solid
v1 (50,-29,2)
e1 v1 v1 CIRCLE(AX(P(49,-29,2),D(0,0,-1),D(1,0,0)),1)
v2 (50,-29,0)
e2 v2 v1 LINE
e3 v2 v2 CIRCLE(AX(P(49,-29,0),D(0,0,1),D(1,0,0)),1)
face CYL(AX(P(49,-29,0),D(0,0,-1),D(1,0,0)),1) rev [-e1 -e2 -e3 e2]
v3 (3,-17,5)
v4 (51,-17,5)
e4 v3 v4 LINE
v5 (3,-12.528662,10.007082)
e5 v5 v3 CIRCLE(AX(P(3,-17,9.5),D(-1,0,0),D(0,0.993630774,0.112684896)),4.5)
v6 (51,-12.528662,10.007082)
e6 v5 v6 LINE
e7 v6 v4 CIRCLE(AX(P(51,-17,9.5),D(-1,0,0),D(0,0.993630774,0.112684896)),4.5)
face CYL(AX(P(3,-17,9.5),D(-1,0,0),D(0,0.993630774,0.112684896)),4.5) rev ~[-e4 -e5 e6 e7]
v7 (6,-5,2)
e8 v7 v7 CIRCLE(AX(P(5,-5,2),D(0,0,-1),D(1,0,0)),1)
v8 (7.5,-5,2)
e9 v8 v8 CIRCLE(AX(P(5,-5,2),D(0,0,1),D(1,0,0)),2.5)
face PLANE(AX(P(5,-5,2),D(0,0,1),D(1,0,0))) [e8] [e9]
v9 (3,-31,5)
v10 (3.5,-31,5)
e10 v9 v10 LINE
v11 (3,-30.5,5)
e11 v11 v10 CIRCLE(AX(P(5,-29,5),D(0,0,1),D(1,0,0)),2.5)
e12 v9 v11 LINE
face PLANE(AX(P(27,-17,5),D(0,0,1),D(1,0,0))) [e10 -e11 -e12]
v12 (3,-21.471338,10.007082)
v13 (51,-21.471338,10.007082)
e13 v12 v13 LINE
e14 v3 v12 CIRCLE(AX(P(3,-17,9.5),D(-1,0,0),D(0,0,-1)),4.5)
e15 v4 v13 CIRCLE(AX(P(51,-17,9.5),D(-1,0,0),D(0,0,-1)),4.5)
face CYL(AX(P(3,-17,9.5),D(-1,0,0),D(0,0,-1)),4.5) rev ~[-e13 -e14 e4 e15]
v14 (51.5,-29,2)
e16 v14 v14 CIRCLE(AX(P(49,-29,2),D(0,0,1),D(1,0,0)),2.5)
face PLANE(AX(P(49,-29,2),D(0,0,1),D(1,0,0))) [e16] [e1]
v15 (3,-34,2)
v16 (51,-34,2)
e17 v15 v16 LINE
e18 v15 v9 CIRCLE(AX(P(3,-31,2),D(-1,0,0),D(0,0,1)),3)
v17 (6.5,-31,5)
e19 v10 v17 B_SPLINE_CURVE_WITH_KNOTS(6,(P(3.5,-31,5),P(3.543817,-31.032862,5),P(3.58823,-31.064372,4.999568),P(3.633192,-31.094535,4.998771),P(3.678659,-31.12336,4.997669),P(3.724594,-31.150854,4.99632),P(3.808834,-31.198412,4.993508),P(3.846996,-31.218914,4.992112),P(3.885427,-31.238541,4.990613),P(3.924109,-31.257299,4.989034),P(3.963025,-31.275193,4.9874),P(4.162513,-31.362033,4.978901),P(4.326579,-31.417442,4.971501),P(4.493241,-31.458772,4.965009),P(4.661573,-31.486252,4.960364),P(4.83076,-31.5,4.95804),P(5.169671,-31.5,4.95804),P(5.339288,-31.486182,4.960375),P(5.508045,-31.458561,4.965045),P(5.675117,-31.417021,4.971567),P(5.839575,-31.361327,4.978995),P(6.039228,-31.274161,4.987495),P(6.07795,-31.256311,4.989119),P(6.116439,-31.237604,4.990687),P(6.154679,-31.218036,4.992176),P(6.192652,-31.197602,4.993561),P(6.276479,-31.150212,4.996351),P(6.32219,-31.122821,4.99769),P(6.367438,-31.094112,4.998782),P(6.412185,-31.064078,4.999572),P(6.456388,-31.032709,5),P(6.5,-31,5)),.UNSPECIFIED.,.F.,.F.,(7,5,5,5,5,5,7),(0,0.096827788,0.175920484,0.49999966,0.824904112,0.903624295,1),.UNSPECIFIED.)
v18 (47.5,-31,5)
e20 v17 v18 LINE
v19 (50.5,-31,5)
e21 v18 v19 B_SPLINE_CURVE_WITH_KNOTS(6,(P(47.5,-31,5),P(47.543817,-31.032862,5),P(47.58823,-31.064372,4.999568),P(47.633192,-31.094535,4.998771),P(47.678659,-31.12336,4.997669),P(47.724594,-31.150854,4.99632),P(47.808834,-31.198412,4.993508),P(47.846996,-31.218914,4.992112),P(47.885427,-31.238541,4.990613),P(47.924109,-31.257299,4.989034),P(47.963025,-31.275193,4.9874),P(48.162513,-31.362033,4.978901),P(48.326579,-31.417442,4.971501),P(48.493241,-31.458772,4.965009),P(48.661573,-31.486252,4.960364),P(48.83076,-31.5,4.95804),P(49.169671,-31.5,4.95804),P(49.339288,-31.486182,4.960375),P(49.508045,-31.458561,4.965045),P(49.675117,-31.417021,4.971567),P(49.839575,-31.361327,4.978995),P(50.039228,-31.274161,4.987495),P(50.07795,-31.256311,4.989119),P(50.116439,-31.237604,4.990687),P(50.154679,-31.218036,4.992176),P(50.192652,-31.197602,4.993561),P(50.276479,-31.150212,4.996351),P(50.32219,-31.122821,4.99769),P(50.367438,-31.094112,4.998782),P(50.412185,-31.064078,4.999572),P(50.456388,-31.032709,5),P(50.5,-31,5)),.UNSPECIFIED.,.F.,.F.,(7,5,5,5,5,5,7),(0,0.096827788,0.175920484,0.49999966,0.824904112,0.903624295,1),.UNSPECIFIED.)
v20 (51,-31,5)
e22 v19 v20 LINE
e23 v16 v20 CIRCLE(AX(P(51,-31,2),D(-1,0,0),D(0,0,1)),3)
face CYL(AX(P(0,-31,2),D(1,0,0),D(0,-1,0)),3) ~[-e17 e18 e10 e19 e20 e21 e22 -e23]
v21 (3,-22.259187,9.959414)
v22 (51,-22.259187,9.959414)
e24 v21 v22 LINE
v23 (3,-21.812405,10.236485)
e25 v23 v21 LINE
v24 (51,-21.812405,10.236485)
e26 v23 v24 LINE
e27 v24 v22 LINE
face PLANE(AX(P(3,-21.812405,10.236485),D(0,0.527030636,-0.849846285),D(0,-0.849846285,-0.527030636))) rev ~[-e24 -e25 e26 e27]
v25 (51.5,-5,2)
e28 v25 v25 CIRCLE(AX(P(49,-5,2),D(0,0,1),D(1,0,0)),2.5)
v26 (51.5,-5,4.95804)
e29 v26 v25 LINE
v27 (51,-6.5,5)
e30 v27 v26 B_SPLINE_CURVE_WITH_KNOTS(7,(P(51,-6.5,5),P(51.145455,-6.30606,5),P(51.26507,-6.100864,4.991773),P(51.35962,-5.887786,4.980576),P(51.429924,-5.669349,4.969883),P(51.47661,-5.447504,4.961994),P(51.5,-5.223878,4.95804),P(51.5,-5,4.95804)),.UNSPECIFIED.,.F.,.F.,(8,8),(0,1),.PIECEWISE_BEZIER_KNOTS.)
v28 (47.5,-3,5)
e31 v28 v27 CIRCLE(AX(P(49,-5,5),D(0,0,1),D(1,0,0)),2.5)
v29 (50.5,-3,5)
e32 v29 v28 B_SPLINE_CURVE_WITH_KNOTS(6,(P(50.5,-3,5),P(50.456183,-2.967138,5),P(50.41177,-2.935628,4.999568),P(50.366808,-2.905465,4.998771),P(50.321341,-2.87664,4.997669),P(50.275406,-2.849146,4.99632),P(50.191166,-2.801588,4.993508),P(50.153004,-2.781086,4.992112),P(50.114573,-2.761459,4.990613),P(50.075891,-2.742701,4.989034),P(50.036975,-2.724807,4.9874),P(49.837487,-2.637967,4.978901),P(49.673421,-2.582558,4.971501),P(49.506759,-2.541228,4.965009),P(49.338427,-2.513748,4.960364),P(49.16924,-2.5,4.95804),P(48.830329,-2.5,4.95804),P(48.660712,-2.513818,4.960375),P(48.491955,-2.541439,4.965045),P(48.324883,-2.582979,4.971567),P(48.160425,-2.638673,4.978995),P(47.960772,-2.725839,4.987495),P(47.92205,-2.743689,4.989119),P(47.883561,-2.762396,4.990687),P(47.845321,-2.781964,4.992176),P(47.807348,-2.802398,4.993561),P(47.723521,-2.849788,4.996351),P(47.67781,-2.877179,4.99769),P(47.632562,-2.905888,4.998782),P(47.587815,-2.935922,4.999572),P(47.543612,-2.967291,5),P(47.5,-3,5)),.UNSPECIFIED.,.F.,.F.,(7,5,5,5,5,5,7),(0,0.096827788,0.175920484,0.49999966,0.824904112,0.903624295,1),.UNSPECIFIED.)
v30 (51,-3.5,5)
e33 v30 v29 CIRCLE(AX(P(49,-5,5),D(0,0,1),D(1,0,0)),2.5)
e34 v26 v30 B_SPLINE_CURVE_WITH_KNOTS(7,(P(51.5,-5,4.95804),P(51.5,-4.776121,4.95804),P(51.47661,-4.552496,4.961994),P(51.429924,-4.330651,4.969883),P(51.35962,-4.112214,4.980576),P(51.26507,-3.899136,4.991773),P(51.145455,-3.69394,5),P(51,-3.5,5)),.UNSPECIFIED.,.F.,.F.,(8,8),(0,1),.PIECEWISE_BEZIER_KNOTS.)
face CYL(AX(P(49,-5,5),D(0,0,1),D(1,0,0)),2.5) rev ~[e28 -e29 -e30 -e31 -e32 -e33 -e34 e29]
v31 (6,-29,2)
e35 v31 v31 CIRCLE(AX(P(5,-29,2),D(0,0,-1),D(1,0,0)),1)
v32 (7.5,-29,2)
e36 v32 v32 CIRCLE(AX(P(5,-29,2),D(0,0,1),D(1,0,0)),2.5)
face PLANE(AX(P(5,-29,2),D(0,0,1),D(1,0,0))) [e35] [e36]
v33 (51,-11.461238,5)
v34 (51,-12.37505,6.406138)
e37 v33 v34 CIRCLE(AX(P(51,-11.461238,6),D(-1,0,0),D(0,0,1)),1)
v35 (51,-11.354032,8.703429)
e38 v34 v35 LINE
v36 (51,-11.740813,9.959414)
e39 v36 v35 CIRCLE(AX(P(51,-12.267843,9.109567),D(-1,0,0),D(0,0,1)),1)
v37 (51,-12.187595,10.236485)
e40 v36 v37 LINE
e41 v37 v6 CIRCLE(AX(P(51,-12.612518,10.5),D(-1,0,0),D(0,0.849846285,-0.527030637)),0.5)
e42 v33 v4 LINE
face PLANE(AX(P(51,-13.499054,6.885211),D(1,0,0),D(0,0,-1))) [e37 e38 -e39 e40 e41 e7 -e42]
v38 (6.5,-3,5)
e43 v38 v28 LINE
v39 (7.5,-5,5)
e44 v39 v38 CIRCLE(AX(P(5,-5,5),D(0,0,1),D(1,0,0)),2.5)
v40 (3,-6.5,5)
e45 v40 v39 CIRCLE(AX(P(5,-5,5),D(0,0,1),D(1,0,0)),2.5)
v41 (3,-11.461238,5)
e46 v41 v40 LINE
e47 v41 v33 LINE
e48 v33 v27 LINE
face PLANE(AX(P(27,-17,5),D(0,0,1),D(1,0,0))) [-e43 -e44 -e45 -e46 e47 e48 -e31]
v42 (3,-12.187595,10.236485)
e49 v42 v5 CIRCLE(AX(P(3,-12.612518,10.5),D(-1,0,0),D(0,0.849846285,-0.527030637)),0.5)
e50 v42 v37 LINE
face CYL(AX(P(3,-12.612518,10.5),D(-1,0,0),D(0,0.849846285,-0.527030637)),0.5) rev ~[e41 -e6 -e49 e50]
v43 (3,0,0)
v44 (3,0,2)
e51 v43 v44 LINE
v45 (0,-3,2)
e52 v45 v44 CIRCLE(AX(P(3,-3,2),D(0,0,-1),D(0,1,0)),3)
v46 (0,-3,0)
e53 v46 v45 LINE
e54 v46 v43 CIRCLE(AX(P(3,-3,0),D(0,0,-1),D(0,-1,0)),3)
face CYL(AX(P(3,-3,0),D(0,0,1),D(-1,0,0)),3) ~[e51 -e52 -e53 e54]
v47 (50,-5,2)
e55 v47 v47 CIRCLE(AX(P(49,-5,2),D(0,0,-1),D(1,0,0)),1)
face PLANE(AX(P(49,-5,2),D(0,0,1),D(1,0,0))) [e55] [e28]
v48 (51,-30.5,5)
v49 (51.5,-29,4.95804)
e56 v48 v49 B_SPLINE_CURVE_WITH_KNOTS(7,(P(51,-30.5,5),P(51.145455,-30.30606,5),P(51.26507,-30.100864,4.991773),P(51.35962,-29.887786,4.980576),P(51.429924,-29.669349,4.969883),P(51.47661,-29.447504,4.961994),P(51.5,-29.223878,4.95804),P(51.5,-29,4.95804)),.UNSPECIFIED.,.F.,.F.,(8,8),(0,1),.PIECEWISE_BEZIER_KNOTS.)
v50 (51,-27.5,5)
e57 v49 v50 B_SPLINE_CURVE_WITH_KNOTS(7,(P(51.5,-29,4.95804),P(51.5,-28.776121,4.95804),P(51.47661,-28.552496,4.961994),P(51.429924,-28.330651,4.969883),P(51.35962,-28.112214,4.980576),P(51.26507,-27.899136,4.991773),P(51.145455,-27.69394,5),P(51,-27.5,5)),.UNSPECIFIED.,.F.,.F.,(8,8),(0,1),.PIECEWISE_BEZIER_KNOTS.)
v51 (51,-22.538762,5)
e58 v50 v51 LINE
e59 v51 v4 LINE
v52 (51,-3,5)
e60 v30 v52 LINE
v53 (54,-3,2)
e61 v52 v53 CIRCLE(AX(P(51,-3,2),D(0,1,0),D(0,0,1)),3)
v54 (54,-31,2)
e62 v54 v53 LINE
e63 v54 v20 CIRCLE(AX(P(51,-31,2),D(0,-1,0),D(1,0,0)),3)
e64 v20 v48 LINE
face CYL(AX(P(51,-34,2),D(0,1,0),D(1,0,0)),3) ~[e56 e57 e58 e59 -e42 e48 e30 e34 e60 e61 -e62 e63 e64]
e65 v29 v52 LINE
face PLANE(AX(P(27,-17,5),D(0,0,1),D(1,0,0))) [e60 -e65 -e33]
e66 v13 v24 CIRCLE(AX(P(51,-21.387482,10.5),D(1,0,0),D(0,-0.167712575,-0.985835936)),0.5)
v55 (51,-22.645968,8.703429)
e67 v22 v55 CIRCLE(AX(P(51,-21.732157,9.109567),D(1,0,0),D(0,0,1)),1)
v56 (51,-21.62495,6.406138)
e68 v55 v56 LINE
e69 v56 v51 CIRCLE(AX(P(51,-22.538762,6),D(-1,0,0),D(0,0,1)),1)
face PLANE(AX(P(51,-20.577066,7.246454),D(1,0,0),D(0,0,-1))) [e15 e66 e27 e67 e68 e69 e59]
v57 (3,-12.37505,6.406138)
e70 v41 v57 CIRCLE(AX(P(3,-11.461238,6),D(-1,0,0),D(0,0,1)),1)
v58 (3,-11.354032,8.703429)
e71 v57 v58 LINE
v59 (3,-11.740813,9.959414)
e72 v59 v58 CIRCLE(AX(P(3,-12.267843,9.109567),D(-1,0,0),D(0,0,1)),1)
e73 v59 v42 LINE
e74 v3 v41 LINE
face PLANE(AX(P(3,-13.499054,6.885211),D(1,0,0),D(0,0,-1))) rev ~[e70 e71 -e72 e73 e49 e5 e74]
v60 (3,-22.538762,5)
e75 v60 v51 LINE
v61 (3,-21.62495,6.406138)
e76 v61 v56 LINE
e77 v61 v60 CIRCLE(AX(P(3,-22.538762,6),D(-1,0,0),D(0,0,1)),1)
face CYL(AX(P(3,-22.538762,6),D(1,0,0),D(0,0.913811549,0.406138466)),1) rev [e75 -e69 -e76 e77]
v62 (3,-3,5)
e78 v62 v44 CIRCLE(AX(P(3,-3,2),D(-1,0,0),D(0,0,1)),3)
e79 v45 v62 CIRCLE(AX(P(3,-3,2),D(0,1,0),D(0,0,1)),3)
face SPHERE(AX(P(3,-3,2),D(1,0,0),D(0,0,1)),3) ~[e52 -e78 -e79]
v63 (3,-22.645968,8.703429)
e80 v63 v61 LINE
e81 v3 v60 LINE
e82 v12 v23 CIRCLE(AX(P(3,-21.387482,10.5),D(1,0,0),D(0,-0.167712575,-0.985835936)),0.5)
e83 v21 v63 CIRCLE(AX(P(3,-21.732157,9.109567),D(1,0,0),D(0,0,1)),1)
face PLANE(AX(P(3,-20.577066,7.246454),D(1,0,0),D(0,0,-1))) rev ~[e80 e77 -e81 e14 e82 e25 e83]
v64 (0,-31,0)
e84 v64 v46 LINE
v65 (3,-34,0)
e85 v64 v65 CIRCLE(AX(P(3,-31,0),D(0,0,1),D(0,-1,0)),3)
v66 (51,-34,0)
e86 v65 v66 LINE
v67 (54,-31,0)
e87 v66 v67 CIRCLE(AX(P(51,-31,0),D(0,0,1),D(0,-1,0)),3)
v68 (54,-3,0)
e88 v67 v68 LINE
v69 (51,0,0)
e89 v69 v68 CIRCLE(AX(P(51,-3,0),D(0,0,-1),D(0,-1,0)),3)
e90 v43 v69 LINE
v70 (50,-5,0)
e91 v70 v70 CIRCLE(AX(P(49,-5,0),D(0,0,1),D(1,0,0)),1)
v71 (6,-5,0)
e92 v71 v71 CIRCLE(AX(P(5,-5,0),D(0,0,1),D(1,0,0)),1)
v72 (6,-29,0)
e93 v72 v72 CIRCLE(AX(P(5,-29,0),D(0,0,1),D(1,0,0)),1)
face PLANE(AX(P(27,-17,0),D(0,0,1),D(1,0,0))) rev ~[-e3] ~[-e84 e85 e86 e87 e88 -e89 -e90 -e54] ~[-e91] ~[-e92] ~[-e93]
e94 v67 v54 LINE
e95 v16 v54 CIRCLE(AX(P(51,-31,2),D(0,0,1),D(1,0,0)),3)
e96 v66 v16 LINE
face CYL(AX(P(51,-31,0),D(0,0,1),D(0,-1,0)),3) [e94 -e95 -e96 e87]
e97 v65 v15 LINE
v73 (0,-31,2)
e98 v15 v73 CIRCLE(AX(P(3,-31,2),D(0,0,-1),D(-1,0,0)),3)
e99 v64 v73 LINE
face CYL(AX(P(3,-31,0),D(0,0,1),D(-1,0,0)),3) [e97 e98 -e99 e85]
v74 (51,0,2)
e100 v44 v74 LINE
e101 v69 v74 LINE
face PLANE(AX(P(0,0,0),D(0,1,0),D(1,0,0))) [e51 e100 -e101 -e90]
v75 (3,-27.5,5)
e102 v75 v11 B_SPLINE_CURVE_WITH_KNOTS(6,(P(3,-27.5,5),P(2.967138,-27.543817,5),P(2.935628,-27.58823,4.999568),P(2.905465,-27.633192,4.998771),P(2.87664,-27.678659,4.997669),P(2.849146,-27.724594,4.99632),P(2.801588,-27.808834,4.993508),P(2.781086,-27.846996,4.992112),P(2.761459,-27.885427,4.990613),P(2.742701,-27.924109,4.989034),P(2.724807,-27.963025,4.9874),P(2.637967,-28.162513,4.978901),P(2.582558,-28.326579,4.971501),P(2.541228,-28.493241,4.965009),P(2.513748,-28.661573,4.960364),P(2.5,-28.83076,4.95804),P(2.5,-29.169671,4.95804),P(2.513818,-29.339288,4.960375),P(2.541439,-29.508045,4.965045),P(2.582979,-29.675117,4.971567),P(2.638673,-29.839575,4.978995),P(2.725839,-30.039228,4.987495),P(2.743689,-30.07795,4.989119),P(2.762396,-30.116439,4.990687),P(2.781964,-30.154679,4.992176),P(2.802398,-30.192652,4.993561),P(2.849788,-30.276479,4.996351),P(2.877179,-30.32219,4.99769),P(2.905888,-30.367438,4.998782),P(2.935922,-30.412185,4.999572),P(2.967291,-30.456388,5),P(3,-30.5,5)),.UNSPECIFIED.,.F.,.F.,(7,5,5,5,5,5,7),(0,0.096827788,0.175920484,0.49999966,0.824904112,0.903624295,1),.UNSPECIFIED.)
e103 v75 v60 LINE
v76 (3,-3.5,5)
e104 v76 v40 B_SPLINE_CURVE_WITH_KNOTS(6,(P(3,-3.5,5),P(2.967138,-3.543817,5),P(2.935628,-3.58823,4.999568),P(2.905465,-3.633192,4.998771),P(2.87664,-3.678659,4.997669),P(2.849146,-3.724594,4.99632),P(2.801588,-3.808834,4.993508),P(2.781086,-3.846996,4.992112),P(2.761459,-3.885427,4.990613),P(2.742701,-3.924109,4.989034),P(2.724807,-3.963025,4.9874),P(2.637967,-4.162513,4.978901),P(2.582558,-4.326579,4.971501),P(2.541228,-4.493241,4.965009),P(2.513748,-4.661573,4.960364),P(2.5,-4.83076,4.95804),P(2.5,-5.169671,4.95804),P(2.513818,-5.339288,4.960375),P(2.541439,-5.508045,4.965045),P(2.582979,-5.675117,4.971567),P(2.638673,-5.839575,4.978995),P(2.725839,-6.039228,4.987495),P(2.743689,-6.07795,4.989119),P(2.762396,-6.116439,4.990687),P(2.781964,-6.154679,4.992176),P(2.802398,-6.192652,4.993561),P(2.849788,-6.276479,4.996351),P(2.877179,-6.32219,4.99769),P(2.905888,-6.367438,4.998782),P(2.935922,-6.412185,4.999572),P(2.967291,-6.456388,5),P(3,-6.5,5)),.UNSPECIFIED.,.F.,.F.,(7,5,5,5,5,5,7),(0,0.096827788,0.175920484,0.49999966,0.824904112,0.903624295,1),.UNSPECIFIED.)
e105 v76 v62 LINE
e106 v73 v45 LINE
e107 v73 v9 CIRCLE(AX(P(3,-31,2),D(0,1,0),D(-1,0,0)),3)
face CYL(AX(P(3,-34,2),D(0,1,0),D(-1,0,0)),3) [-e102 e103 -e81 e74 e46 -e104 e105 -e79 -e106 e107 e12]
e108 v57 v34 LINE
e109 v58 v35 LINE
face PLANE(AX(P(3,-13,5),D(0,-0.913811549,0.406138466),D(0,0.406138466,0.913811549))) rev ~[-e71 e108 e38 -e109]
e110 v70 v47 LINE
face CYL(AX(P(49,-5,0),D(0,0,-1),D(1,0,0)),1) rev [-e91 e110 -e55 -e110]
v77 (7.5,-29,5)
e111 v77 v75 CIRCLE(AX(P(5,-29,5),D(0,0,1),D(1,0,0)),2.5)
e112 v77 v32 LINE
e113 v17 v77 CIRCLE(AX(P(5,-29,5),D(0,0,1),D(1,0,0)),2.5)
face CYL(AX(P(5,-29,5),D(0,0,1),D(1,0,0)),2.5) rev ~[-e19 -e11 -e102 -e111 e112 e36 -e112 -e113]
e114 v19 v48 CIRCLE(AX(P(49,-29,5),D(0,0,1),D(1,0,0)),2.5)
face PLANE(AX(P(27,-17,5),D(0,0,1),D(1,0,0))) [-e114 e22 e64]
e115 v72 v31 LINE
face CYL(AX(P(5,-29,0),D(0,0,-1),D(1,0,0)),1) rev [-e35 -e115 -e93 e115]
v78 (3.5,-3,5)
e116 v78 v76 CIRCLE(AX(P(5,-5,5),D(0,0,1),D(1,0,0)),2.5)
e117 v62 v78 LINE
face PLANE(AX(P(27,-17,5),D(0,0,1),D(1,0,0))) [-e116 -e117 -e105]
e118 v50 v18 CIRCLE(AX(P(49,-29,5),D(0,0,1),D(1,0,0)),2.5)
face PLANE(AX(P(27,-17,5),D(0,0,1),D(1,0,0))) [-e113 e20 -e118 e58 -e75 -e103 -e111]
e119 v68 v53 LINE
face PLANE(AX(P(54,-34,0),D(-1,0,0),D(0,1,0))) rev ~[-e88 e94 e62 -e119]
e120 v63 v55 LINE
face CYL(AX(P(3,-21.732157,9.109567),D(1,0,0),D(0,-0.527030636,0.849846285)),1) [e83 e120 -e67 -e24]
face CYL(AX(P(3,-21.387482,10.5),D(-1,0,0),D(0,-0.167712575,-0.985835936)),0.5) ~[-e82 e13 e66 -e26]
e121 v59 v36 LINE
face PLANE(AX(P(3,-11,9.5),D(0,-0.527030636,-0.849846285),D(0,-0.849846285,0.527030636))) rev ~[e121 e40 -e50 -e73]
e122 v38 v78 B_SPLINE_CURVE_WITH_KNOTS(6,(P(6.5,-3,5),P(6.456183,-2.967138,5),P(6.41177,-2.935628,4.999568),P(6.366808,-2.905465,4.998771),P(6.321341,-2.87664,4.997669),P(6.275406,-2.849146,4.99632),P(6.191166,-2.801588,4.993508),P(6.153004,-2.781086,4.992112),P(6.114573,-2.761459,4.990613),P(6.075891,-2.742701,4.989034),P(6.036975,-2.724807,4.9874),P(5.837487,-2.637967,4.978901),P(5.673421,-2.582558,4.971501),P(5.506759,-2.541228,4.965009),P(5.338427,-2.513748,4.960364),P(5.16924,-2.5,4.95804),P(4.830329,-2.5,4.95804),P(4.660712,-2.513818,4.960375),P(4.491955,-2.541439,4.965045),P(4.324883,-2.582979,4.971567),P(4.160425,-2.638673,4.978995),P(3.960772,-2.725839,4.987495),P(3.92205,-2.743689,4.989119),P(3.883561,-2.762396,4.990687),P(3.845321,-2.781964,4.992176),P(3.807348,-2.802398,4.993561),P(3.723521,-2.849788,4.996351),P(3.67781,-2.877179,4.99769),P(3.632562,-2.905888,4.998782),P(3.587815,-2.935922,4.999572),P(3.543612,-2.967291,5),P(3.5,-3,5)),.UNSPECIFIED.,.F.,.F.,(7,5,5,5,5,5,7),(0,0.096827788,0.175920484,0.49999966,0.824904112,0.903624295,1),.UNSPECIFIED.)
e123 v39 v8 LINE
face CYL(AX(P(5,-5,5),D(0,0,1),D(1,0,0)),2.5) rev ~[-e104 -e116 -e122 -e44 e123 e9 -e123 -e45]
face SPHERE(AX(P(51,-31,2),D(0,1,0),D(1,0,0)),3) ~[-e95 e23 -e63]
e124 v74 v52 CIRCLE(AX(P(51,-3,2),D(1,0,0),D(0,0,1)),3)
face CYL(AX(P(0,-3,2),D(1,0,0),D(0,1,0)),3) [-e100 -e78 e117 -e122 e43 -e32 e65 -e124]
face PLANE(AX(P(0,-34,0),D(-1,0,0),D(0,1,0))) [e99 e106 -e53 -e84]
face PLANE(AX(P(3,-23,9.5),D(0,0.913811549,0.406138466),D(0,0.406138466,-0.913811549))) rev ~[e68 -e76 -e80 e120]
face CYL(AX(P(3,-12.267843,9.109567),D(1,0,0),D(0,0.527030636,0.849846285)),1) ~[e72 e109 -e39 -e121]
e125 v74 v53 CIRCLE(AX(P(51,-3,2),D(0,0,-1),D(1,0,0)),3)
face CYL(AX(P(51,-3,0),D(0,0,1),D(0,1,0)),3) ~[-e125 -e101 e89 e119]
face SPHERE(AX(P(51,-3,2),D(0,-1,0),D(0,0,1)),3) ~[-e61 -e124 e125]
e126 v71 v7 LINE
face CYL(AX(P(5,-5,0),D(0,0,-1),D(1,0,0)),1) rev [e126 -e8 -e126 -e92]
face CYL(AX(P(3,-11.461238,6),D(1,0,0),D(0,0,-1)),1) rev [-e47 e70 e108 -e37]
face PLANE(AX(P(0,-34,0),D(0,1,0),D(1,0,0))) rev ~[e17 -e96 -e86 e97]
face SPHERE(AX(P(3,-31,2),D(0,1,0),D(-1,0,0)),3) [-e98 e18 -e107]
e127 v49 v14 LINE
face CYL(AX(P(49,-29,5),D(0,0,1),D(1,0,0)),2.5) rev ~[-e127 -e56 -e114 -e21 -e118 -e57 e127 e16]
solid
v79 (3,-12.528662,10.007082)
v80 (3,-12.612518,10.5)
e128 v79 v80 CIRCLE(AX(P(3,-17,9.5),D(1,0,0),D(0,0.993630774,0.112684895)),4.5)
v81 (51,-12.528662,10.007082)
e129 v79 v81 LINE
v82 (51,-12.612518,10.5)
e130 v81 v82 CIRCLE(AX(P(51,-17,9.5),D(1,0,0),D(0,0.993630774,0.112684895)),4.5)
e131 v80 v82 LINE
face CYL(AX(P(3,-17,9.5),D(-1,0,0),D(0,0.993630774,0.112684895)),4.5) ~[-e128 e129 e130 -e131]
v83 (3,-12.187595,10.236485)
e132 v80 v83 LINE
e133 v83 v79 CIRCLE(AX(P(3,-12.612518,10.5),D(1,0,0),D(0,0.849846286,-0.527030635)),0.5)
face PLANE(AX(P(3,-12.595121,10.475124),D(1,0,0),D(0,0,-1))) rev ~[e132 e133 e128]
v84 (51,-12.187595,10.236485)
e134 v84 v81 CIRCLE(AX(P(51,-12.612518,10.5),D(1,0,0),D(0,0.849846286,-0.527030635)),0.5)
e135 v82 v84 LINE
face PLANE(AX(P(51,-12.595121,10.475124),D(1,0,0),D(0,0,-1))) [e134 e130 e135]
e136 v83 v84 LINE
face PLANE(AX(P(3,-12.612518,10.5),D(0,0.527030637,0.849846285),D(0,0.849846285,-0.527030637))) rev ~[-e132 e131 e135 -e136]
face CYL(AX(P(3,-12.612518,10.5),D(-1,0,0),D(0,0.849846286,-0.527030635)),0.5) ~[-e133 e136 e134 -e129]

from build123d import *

# Parameters (mm, degrees)
SKETCH1_W                = 54
SKETCH1_H                = 34
SKETCH1_R                = 1
BOSS_EXTRUDE1_DEPTH      = 5
FILLET2_R                = 3
SKETCH2_R                = 2.5
CUT_EXTRUDE1_DEPTH       = 3
BOSS_EXTRUDE2_DEPTH      = 7
BOSS_EXTRUDE2_DEPTH_BACK = 41
FILLET3_R                = 1


with BuildPart() as part:
    # Sketch1 → Boss-Extrude1 (new body)
    with BuildSketch(Plane.XY):
        with Locations((27, -17)):
            Rectangle(SKETCH1_W, SKETCH1_H)
        with Locations((5, -5)):
            Circle(SKETCH1_R, mode=Mode.SUBTRACT)
        with Locations((49, -5)):
            Circle(SKETCH1_R, mode=Mode.SUBTRACT)
        with Locations((49, -29)):
            Circle(SKETCH1_R, mode=Mode.SUBTRACT)
        with Locations((5, -29)):
            Circle(SKETCH1_R, mode=Mode.SUBTRACT)
    extrude(amount=BOSS_EXTRUDE1_DEPTH)

    # Fillet2
    fillet2_edges = [part.edges().sort_by_distance(p)[0] for p in [
        (54, -17, 5),
        (27, 0, 5),
        (0, -17, 5),
        (0, 0, 2.5),
        (54, 0, 2.5),
        (54, -34, 2.5),
        (0, -34, 2.5),
        (27, -34, 5),
    ]]
    fillet(fillet2_edges, radius=FILLET2_R)

    # Sketch2 → Cut-Extrude1 (cut)
    with BuildSketch(Plane.XY.offset(5)):
        with Locations((5, -5)):
            Circle(SKETCH2_R)
        with Locations((5, -29)):
            Circle(SKETCH2_R)
        with Locations((49, -29)):
            Circle(SKETCH2_R)
        with Locations((49, -5)):
            Circle(SKETCH2_R)
    extrude(amount=-CUT_EXTRUDE1_DEPTH, mode=Mode.SUBTRACT)

    # Sketch4 → Boss-Extrude2 (add, two sides: drawn at the far end of the back side and taken through both)
    with BuildSketch(Plane(origin=(44, 0, 0), x_dir=(0, 0, -1), z_dir=(1, 0, 0)).offset(-BOSS_EXTRUDE2_DEPTH_BACK)):
        with BuildLine():
            ThreePointArc((-10.007082032, -21.471338481), (-10.914884898, -21.108429294), (-10.236484682, -21.812405336))
            Line((-10.236484682, -21.812405336), (-9.5, -23))
            Line((-9.5, -23), (-5, -21))
            Line((-5, -21), (-5, -17))
            ThreePointArc((-5, -17), (-6.502656939, -20.356476512), (-10.007082032, -21.471338481))
        make_face()
        with BuildLine():
            ThreePointArc((-10.007082032, -12.528661519), (-6.502656939, -13.643523488), (-5, -17))
            Line((-5, -17), (-5, -13))
            Line((-5, -13), (-9.5, -11))
            Line((-9.5, -11), (-10.236484682, -12.187594664))
            ThreePointArc((-10.236484682, -12.187594664), (-10.085115102, -12.333464906), (-10.007082032, -12.528661519))
        make_face()
        with BuildLine():
            ThreePointArc((-10.236484682, -12.187594664), (-10.914884898, -12.891570706), (-10.007082032, -12.528661519))
            ThreePointArc((-10.007082032, -12.528661519), (-10.254706587, -12.563738289), (-10.5, -12.612517806))
            Line((-10.5, -12.612517806), (-10.236484682, -12.187594664))
        make_face()
    extrude(amount=BOSS_EXTRUDE2_DEPTH + BOSS_EXTRUDE2_DEPTH_BACK)


with BuildPart() as boss_extrude2_piece_1:
    # of the separate pieces the step leaves, piece 1, a body of its own (boss_extrude2_pieces)
    add(part.part.solids().sort_by_distance((3, 0, 0))[0])

    # Fillet3
    fillet3_edges = [boss_extrude2_piece_1.edges().sort_by_distance(p)[0] for p in [
        (27, -11, 9.5),
        (27, -13, 5),
        (27, -23, 9.5),
        (27, -21, 5),
    ]]
    fillet(fillet3_edges, radius=FILLET3_R)


with BuildPart() as boss_extrude2_piece_2:
    # of the separate pieces the step leaves, piece 2, a body of its own (boss_extrude2_pieces)
    add(part.part.solids().sort_by_distance((3, -12.612517806, 10.5))[0])


solid = Compound([boss_extrude2_piece_1.part, boss_extrude2_piece_2.part])
